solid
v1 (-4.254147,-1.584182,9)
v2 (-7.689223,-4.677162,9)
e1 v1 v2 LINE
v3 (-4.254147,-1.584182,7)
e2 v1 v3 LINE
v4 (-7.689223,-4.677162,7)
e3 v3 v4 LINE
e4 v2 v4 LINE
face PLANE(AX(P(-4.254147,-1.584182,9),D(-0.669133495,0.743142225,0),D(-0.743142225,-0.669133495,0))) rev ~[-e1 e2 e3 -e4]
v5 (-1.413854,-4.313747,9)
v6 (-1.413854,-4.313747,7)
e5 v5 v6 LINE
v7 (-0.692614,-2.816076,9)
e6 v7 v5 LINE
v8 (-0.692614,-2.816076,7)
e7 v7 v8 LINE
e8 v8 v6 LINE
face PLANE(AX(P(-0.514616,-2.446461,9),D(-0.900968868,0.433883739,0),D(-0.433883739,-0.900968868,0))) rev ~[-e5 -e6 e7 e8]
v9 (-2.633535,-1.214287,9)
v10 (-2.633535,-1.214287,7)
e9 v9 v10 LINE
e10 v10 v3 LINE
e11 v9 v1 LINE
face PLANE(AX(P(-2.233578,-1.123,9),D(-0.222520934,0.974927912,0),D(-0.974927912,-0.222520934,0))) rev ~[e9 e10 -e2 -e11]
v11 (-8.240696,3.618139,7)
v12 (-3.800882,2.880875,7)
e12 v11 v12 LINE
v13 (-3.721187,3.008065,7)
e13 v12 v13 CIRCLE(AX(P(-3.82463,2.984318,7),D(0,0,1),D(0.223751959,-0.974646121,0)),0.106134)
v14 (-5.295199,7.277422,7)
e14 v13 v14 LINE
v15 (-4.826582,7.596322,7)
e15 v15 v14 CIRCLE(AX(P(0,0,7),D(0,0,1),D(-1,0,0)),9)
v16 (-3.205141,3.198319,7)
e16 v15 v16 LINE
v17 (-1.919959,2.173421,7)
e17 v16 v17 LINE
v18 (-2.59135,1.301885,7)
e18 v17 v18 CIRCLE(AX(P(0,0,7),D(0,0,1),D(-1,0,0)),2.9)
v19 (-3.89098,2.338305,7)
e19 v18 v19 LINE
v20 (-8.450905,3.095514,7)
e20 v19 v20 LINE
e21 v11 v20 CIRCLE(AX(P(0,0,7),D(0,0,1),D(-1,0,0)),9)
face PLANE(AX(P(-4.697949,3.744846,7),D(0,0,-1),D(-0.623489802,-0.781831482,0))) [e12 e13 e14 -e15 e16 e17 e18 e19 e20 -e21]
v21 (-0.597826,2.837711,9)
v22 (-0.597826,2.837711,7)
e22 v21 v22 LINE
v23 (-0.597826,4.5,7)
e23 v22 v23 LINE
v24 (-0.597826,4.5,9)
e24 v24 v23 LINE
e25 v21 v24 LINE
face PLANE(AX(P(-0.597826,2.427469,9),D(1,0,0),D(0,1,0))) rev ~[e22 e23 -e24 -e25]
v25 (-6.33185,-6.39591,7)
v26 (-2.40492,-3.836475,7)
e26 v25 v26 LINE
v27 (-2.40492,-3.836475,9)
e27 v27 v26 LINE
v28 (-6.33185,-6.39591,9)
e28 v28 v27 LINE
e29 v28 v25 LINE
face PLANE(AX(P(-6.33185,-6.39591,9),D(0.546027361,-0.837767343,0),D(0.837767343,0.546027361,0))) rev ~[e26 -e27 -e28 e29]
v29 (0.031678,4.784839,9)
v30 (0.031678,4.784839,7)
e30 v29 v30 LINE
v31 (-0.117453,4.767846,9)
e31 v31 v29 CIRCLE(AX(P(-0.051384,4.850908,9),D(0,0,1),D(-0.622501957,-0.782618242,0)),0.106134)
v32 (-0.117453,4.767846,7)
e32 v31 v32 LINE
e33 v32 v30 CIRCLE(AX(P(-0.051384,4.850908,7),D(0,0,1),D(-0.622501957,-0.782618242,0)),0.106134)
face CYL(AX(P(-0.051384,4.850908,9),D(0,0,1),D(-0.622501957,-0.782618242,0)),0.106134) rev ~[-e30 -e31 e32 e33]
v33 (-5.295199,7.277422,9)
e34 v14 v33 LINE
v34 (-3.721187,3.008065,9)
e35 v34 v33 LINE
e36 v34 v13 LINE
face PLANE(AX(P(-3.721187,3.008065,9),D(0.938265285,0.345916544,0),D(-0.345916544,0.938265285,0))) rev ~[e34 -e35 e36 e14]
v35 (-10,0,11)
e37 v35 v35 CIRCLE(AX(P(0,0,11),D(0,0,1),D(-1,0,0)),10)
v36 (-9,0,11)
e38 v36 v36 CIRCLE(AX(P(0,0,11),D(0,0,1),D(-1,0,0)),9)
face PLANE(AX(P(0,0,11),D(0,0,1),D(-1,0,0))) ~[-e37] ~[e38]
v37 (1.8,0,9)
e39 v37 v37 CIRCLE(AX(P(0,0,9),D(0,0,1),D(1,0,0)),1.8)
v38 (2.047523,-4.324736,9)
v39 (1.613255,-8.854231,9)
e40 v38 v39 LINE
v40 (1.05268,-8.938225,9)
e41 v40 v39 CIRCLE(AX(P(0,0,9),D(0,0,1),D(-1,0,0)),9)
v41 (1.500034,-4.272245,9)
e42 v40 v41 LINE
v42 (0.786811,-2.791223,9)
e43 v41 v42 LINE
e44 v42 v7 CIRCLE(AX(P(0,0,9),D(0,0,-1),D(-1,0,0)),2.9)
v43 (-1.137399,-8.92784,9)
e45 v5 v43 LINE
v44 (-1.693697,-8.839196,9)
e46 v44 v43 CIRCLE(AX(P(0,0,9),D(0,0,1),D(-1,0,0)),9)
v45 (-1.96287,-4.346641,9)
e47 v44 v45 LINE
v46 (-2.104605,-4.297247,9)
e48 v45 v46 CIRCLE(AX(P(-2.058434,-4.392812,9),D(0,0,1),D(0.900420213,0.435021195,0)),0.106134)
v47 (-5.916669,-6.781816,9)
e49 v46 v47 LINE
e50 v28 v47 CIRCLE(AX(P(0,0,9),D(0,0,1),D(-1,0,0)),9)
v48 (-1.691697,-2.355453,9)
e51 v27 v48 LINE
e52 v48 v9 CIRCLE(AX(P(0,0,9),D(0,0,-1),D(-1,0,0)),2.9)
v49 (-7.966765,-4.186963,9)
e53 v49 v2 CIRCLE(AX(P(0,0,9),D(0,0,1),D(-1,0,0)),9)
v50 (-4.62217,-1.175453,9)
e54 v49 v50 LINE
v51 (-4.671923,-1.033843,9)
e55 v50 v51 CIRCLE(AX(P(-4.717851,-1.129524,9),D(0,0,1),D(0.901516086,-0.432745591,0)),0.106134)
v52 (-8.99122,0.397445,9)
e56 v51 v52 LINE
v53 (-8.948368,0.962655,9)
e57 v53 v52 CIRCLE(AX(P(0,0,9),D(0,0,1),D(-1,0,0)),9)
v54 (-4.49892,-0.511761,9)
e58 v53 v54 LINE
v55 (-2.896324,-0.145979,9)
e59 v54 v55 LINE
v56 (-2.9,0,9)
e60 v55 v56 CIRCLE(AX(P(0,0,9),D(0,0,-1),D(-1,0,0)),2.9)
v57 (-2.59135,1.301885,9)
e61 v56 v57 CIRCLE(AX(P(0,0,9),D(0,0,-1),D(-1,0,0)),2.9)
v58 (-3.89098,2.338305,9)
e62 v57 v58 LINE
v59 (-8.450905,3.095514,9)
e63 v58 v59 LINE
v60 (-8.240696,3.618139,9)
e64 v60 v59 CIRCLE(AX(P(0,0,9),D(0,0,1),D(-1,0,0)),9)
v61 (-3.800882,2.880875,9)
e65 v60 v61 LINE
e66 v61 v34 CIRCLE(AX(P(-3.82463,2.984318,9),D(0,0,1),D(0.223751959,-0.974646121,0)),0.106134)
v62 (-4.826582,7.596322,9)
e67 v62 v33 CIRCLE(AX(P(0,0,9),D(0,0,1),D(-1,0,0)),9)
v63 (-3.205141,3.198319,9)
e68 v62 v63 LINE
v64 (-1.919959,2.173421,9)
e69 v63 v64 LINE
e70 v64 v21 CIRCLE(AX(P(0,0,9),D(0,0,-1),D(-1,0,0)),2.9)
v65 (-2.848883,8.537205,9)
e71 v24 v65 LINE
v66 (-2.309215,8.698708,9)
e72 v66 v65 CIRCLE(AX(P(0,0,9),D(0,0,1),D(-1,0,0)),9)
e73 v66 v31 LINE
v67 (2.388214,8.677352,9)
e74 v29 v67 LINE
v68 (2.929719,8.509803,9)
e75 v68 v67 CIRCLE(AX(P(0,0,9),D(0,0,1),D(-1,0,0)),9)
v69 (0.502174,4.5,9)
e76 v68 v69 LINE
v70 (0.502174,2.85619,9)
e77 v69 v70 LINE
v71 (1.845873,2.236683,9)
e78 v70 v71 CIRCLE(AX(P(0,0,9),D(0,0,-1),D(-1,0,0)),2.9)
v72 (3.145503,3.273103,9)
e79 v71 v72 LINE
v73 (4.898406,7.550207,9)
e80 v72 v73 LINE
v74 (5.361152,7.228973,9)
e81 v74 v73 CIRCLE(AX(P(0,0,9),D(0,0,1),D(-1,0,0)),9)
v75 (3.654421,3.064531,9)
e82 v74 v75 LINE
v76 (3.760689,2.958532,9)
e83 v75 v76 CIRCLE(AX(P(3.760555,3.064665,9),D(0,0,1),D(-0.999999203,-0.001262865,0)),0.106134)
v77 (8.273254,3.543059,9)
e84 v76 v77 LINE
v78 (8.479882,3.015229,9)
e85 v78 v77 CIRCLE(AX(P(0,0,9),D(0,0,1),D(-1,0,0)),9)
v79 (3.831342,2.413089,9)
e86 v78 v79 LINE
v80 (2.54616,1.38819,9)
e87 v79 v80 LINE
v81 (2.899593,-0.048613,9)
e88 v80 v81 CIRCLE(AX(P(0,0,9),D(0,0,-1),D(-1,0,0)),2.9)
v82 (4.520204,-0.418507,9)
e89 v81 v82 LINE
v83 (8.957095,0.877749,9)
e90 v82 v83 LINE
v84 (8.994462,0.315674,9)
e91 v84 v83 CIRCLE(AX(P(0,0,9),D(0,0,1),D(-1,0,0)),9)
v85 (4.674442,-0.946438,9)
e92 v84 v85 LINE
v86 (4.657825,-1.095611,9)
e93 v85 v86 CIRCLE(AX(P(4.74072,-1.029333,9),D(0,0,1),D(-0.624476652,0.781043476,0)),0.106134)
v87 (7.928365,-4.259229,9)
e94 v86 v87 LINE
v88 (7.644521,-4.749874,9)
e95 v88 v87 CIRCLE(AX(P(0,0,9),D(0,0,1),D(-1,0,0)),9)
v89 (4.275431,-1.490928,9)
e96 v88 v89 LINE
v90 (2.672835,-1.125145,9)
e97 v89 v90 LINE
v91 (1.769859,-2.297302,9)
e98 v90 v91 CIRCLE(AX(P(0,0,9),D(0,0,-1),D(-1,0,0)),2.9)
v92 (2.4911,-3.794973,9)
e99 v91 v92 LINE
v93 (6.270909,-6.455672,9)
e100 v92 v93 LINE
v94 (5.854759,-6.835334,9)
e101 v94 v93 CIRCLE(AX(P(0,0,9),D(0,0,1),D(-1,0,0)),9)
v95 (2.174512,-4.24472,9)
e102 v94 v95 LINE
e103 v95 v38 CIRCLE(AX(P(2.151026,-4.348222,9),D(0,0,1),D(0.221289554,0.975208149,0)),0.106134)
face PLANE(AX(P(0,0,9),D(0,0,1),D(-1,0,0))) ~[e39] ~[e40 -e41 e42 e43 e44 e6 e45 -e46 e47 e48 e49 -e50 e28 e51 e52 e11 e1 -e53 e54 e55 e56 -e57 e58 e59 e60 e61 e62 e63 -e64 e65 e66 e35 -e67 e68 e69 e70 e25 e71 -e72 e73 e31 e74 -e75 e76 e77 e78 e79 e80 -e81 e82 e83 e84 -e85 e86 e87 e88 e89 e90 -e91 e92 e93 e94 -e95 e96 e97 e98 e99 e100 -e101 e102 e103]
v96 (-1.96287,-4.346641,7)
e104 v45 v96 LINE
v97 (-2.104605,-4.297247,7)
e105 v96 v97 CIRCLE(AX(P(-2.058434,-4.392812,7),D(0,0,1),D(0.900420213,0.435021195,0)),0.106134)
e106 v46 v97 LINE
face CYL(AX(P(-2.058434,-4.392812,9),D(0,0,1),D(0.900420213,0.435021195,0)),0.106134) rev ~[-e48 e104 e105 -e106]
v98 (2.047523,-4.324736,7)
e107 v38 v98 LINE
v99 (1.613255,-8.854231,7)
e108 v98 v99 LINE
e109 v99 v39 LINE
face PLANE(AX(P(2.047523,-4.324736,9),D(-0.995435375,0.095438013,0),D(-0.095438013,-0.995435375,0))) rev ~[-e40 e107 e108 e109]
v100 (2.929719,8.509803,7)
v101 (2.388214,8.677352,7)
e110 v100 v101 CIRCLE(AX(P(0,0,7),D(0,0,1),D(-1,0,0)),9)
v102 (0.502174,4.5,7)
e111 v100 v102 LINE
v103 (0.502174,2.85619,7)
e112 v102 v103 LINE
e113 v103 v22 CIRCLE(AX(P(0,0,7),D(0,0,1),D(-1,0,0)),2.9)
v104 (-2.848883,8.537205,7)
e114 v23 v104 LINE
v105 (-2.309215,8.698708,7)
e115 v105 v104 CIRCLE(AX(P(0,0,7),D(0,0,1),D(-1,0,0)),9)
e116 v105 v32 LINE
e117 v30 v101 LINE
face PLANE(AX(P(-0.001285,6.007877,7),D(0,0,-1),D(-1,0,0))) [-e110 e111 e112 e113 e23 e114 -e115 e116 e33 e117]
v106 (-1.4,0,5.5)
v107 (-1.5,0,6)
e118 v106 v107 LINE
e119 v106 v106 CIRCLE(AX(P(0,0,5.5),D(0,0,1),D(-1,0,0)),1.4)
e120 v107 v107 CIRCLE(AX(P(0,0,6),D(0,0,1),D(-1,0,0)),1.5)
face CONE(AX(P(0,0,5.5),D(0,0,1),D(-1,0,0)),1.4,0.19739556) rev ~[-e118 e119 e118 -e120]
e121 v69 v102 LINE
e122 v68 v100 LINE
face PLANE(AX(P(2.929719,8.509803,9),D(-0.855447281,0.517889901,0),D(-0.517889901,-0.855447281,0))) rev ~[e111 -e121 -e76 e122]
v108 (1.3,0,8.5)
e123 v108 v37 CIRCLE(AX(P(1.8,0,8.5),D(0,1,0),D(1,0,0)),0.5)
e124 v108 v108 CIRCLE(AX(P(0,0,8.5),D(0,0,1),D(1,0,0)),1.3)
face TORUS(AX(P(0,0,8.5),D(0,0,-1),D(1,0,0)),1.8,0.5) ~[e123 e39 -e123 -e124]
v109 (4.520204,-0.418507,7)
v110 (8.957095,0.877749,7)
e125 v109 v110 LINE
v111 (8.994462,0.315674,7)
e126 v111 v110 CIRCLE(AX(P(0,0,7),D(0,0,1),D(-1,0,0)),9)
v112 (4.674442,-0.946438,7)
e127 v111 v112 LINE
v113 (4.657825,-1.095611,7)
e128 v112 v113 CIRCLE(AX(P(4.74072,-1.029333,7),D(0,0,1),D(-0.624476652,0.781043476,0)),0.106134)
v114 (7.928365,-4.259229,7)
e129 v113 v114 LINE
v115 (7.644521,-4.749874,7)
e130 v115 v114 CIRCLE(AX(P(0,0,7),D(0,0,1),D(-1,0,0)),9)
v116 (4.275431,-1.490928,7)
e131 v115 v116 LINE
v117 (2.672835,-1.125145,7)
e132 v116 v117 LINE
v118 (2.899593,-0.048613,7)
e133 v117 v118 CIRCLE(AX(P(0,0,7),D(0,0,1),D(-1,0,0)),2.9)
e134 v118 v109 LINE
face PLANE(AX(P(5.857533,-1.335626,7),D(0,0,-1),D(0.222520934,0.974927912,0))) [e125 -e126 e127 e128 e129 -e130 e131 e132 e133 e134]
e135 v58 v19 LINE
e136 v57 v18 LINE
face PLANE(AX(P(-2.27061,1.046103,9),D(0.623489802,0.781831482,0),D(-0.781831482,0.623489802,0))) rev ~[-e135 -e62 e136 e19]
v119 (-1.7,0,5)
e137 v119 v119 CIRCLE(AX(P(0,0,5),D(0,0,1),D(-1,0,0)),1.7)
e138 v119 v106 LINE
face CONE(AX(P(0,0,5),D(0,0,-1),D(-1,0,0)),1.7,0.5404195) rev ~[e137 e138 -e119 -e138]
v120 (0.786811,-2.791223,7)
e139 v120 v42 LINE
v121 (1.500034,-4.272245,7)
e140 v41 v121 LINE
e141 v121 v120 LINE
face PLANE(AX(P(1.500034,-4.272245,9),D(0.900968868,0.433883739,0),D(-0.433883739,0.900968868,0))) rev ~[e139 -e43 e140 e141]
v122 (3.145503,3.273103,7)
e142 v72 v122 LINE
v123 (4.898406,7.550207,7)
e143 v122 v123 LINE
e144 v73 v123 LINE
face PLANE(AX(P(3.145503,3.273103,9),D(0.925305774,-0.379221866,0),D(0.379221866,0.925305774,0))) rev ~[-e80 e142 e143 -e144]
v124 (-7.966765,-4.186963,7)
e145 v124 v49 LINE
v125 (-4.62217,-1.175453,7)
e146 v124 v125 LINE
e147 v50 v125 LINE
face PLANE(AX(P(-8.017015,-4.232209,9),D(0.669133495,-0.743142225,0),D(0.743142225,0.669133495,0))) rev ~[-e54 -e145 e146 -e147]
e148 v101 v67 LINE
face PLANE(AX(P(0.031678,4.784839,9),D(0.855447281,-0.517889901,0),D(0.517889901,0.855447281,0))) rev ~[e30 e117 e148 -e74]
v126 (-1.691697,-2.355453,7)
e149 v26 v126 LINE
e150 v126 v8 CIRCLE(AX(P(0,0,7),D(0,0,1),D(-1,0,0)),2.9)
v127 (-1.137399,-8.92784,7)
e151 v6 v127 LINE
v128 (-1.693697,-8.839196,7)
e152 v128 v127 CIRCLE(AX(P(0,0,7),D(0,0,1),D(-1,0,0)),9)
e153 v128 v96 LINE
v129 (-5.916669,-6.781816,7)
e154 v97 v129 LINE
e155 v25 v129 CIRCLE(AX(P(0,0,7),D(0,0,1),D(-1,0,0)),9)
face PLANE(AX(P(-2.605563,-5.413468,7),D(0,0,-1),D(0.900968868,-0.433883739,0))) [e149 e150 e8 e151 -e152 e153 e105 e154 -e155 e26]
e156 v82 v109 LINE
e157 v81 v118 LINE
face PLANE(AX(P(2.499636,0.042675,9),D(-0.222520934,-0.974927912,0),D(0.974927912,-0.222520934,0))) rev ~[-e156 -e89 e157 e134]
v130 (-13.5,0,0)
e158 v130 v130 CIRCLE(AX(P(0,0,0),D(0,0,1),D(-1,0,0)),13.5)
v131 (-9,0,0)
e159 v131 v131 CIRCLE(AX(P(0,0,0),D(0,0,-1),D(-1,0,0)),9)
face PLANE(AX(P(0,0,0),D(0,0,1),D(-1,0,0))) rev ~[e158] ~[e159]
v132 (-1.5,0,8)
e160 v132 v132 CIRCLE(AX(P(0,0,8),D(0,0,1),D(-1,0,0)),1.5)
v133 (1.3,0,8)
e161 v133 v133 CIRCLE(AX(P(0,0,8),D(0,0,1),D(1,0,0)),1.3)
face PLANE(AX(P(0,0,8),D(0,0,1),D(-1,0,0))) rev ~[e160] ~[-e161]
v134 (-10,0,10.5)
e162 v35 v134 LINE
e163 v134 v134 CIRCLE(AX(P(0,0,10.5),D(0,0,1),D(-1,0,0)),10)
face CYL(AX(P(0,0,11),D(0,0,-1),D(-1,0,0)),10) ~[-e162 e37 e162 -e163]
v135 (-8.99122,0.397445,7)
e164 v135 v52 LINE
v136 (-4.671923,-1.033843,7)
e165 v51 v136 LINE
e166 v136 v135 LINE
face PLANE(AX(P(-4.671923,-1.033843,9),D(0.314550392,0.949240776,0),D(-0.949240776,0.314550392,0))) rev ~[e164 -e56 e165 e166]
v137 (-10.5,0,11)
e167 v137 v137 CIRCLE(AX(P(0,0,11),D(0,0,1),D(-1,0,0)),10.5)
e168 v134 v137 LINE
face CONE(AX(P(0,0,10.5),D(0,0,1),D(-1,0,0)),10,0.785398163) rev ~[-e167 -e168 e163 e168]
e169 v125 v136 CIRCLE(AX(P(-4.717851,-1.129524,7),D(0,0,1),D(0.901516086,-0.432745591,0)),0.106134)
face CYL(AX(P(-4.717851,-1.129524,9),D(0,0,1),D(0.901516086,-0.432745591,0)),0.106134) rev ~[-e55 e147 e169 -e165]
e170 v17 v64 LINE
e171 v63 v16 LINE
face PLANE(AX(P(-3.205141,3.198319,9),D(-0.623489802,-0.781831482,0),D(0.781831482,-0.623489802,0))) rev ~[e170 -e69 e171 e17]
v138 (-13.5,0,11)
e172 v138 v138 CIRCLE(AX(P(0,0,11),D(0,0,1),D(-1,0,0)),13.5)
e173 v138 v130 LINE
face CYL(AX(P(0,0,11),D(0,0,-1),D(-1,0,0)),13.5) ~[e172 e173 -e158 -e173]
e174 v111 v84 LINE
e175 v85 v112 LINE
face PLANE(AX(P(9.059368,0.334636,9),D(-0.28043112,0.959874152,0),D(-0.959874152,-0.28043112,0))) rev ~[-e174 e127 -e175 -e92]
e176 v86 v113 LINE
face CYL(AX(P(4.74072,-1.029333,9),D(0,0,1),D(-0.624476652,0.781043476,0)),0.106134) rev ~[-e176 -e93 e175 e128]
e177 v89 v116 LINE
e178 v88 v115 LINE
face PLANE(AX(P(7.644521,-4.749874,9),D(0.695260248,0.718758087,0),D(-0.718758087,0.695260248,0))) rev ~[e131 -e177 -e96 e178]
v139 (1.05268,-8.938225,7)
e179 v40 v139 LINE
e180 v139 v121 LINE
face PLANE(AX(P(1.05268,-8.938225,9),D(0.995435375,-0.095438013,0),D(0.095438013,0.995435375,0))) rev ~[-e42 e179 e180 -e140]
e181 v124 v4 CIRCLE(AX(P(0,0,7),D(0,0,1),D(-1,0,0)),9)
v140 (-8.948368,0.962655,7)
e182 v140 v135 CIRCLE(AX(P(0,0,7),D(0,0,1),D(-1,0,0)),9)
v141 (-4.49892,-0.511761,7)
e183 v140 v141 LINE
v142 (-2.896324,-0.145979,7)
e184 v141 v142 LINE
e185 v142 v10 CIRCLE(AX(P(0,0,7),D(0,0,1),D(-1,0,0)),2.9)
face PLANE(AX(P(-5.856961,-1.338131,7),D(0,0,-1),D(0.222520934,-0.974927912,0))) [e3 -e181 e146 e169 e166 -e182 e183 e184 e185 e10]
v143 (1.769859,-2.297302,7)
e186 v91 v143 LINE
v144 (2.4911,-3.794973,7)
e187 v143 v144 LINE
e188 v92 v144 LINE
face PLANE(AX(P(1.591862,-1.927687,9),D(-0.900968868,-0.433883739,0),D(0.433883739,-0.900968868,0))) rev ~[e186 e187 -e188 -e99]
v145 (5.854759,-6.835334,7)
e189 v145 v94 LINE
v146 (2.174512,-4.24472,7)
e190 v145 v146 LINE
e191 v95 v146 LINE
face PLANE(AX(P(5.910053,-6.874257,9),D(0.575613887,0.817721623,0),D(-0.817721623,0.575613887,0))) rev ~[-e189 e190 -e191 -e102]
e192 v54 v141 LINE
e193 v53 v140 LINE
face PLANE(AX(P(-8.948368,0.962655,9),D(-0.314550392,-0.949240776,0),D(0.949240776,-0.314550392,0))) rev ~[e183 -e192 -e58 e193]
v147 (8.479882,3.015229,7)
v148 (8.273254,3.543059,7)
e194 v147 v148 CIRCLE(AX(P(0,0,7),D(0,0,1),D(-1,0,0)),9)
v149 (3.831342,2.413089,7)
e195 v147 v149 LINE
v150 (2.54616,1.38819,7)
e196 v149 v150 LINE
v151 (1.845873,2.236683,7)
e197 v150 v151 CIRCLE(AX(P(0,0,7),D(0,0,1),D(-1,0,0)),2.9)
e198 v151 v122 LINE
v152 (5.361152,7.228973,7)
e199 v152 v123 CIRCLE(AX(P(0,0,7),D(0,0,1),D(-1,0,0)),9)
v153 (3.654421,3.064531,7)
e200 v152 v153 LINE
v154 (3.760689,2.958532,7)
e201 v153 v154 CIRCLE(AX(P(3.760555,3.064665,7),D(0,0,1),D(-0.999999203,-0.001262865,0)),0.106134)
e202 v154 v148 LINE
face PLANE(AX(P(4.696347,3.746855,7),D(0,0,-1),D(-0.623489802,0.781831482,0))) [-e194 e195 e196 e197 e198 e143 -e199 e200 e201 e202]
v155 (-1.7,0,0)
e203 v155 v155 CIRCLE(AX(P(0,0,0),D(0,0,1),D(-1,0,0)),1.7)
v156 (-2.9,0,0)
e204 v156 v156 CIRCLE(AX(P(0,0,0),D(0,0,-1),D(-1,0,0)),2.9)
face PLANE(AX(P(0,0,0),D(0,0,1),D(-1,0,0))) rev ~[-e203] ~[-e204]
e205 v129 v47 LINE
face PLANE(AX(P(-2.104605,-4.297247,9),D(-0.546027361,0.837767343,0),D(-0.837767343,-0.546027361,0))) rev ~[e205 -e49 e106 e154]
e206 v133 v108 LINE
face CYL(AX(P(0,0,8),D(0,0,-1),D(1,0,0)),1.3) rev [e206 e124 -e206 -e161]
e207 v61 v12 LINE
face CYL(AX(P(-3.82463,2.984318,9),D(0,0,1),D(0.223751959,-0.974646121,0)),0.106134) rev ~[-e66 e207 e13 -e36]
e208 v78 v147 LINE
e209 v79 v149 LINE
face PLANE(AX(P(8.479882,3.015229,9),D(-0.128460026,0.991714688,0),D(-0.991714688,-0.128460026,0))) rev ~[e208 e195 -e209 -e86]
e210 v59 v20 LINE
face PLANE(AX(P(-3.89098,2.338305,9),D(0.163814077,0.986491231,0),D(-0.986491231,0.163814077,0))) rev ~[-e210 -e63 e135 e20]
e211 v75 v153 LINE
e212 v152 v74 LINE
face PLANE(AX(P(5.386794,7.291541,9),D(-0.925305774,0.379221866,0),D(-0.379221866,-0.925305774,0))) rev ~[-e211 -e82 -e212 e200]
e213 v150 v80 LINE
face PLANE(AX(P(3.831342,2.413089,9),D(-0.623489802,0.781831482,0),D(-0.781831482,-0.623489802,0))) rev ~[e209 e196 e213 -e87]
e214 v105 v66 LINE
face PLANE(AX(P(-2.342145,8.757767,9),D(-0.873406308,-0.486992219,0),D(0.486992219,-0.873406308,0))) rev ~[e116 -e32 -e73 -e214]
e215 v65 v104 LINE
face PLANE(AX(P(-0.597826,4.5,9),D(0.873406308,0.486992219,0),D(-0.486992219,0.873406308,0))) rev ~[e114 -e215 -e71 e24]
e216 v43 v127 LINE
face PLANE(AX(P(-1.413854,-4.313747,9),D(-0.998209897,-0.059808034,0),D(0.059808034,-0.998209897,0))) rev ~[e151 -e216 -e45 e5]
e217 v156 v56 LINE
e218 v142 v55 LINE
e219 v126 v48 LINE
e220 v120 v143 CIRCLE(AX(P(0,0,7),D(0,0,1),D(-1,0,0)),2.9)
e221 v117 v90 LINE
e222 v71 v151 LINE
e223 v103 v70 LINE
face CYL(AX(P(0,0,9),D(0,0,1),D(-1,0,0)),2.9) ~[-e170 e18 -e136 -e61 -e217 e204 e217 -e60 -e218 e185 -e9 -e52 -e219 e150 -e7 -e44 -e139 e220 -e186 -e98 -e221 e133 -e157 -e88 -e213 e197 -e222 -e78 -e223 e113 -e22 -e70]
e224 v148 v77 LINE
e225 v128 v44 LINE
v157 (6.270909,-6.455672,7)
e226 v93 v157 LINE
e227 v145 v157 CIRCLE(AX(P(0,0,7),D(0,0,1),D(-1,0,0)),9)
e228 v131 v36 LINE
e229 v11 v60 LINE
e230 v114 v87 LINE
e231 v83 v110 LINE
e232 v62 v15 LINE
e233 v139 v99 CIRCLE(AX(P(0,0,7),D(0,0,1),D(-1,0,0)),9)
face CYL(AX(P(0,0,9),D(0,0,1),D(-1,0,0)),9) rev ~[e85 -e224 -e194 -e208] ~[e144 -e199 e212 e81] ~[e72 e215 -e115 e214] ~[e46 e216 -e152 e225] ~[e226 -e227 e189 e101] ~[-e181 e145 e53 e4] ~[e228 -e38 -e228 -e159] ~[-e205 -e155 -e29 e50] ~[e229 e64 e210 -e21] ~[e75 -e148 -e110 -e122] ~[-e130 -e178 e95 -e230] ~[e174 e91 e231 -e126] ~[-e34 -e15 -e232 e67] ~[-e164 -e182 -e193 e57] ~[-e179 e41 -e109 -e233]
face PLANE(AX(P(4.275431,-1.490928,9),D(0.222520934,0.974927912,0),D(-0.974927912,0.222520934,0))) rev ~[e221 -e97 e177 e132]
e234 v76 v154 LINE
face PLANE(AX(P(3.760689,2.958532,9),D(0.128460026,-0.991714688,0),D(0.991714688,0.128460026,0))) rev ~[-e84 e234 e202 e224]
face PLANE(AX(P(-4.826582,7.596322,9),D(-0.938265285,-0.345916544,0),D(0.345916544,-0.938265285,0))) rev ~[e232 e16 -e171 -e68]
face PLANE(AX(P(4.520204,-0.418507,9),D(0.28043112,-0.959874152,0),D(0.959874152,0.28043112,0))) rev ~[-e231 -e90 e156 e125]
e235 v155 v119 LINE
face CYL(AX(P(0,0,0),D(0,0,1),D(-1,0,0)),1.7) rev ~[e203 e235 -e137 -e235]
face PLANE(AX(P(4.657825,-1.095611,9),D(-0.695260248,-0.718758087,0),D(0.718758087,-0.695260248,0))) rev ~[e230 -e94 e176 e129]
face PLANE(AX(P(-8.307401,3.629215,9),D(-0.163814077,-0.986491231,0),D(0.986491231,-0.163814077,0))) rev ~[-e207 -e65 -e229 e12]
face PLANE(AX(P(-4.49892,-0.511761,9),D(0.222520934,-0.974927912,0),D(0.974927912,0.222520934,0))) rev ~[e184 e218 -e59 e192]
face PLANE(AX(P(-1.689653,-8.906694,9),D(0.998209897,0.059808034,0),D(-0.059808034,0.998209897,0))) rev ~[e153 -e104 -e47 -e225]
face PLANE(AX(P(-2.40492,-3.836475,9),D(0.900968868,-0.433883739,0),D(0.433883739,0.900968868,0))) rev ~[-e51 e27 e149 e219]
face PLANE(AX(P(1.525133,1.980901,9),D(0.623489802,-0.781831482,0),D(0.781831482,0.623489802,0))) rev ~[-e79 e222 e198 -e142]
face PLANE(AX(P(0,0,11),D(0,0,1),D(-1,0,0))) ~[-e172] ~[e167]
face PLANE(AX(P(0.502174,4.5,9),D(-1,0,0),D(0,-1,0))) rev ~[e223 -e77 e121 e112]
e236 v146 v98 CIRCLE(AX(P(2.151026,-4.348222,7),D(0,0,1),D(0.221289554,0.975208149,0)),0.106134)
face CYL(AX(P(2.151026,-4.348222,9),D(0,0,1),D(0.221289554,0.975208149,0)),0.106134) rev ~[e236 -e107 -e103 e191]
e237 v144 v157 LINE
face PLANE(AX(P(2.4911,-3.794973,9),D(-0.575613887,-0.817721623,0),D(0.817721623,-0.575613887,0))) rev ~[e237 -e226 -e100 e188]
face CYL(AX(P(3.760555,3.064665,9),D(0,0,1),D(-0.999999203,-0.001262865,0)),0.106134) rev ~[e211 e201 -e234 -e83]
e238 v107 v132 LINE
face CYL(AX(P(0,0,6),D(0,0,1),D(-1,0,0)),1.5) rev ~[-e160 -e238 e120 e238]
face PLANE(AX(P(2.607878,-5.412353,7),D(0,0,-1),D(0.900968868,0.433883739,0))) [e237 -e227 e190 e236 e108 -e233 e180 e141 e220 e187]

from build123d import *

# Parameters (mm, degrees)
CUT_EXTRUDE1_START  = -9
SKETCH3_R           = 9
SKETCH3_R_2         = 2.9
CUT_EXTRUDE1_DEPTH  = 9
BOSS_EXTRUDE1_DEPTH = 2
CIRPATTERN1_COUNT   = 7
SKETCH5_R           = 2.9
SKETCH5_R_2         = 1.3
BOSS_EXTRUDE2_DEPTH = 1
FILLET2_R           = 0.5


with BuildPart() as part:
    # Sketch1 → Revolve1 (revolve)
    with BuildSketch(Plane(origin=(0, 0, 0), x_dir=(1, 0, 0), z_dir=(0, 1, 0))):
        Polygon((-1.7, 0), (-1.7, -5), (-1.4, -5.5), (-1.5, -6), (-1.5, -8), (-2.5, -8), (-2.5, -9), (-9, -9), (-9, -11), (-10, -11), (-10, -10.5), (-10.5, -11), (-13.5, -11), (-13.5, 0), align=None)
    revolve(axis=Axis((0, 0, 0), (0, 0, 1)))

    # Sketch3 → Cut-Extrude1 (cut)
    with BuildSketch(Plane(origin=(0, 0, 0), x_dir=(-1, 0, 0), z_dir=(0, 0, -1)).offset(CUT_EXTRUDE1_START)):
        Circle(SKETCH3_R)
        Circle(SKETCH3_R_2, mode=Mode.SUBTRACT)
    extrude(amount=CUT_EXTRUDE1_DEPTH, mode=Mode.SUBTRACT)


with BuildPart() as cut_extrude1_piece_1:
    # of the separate pieces the step leaves, piece 1, a body of its own (cut_extrude1_pieces)
    add(part.part.solids().sort_by_distance((-13.5, 0, 0))[0])

    # Sketch2 → Boss-Extrude1 (add)
    with BuildSketch(Plane.XY.offset(9)):
        with BuildLine():
            Line((-0.597826087, 4.5), (-2.848883013, 8.537204787))
            Line((-2.848883013, 8.537204787), (-2.342145206, 8.757766839))
            Line((-2.342145206, 8.757766839), (-0.117452618, 4.767845721))
            ThreePointArc((-0.117452618, 4.767845721), (-0.039367839, 4.74545664), (0.031677909, 4.784839446))
            Line((0.031677909, 4.784839446), (2.436897987, 8.757766839))
            Line((2.436897987, 8.757766839), (2.929718633, 8.509803096))
            Line((2.929718633, 8.509803096), (0.502173913, 4.5))
            Line((0.502173913, 4.5), (0.502173913, 2.44904499))
            ThreePointArc((0.502173913, 2.44904499), (-0.049135224, 2.504998888), (-0.597826087, 2.427468634))
            Line((-0.597826087, 2.427468634), (-0.597826087, 4.5))
        make_face()
    boss_extrude1 = extrude(amount=-BOSS_EXTRUDE1_DEPTH)

    # CirPattern1: Boss-Extrude1 ×7 about axis
    cirpattern1_axis = Axis((0, 0, 0), (0, 0, 1))
    for i in range(1, CIRPATTERN1_COUNT):
        add(boss_extrude1.rotate(cirpattern1_axis, i * 360 / CIRPATTERN1_COUNT))



with BuildPart() as cut_extrude1_piece_2:
    # of the separate pieces the step leaves, piece 2, a body of its own (cut_extrude1_pieces)
    add(part.part.solids().sort_by_distance((-1.7, 0, 0))[0])


with BuildPart() as cut_extrude1_piece_1_1:
    add(cut_extrude1_piece_1.part)

    add(cut_extrude1_piece_2.part)  # Boss-Extrude2 merges Cut-Extrude1 piece 2
    # Sketch5 → Boss-Extrude2 (add)
    with BuildSketch(Plane.XY.offset(8)):
        with Locations(Location((0, 0, 0), (0, 0, 180))):
            Circle(SKETCH5_R)
        Circle(SKETCH5_R_2, mode=Mode.SUBTRACT)
    extrude(amount=BOSS_EXTRUDE2_DEPTH)

    # Fillet2
    fillet2_edges = [cut_extrude1_piece_1_1.edges().sort_by_distance(p)[0] for p in [
        (-1.3, 0, 9),
    ]]
    fillet(fillet2_edges, radius=FILLET2_R)


solid = cut_extrude1_piece_1_1.part
